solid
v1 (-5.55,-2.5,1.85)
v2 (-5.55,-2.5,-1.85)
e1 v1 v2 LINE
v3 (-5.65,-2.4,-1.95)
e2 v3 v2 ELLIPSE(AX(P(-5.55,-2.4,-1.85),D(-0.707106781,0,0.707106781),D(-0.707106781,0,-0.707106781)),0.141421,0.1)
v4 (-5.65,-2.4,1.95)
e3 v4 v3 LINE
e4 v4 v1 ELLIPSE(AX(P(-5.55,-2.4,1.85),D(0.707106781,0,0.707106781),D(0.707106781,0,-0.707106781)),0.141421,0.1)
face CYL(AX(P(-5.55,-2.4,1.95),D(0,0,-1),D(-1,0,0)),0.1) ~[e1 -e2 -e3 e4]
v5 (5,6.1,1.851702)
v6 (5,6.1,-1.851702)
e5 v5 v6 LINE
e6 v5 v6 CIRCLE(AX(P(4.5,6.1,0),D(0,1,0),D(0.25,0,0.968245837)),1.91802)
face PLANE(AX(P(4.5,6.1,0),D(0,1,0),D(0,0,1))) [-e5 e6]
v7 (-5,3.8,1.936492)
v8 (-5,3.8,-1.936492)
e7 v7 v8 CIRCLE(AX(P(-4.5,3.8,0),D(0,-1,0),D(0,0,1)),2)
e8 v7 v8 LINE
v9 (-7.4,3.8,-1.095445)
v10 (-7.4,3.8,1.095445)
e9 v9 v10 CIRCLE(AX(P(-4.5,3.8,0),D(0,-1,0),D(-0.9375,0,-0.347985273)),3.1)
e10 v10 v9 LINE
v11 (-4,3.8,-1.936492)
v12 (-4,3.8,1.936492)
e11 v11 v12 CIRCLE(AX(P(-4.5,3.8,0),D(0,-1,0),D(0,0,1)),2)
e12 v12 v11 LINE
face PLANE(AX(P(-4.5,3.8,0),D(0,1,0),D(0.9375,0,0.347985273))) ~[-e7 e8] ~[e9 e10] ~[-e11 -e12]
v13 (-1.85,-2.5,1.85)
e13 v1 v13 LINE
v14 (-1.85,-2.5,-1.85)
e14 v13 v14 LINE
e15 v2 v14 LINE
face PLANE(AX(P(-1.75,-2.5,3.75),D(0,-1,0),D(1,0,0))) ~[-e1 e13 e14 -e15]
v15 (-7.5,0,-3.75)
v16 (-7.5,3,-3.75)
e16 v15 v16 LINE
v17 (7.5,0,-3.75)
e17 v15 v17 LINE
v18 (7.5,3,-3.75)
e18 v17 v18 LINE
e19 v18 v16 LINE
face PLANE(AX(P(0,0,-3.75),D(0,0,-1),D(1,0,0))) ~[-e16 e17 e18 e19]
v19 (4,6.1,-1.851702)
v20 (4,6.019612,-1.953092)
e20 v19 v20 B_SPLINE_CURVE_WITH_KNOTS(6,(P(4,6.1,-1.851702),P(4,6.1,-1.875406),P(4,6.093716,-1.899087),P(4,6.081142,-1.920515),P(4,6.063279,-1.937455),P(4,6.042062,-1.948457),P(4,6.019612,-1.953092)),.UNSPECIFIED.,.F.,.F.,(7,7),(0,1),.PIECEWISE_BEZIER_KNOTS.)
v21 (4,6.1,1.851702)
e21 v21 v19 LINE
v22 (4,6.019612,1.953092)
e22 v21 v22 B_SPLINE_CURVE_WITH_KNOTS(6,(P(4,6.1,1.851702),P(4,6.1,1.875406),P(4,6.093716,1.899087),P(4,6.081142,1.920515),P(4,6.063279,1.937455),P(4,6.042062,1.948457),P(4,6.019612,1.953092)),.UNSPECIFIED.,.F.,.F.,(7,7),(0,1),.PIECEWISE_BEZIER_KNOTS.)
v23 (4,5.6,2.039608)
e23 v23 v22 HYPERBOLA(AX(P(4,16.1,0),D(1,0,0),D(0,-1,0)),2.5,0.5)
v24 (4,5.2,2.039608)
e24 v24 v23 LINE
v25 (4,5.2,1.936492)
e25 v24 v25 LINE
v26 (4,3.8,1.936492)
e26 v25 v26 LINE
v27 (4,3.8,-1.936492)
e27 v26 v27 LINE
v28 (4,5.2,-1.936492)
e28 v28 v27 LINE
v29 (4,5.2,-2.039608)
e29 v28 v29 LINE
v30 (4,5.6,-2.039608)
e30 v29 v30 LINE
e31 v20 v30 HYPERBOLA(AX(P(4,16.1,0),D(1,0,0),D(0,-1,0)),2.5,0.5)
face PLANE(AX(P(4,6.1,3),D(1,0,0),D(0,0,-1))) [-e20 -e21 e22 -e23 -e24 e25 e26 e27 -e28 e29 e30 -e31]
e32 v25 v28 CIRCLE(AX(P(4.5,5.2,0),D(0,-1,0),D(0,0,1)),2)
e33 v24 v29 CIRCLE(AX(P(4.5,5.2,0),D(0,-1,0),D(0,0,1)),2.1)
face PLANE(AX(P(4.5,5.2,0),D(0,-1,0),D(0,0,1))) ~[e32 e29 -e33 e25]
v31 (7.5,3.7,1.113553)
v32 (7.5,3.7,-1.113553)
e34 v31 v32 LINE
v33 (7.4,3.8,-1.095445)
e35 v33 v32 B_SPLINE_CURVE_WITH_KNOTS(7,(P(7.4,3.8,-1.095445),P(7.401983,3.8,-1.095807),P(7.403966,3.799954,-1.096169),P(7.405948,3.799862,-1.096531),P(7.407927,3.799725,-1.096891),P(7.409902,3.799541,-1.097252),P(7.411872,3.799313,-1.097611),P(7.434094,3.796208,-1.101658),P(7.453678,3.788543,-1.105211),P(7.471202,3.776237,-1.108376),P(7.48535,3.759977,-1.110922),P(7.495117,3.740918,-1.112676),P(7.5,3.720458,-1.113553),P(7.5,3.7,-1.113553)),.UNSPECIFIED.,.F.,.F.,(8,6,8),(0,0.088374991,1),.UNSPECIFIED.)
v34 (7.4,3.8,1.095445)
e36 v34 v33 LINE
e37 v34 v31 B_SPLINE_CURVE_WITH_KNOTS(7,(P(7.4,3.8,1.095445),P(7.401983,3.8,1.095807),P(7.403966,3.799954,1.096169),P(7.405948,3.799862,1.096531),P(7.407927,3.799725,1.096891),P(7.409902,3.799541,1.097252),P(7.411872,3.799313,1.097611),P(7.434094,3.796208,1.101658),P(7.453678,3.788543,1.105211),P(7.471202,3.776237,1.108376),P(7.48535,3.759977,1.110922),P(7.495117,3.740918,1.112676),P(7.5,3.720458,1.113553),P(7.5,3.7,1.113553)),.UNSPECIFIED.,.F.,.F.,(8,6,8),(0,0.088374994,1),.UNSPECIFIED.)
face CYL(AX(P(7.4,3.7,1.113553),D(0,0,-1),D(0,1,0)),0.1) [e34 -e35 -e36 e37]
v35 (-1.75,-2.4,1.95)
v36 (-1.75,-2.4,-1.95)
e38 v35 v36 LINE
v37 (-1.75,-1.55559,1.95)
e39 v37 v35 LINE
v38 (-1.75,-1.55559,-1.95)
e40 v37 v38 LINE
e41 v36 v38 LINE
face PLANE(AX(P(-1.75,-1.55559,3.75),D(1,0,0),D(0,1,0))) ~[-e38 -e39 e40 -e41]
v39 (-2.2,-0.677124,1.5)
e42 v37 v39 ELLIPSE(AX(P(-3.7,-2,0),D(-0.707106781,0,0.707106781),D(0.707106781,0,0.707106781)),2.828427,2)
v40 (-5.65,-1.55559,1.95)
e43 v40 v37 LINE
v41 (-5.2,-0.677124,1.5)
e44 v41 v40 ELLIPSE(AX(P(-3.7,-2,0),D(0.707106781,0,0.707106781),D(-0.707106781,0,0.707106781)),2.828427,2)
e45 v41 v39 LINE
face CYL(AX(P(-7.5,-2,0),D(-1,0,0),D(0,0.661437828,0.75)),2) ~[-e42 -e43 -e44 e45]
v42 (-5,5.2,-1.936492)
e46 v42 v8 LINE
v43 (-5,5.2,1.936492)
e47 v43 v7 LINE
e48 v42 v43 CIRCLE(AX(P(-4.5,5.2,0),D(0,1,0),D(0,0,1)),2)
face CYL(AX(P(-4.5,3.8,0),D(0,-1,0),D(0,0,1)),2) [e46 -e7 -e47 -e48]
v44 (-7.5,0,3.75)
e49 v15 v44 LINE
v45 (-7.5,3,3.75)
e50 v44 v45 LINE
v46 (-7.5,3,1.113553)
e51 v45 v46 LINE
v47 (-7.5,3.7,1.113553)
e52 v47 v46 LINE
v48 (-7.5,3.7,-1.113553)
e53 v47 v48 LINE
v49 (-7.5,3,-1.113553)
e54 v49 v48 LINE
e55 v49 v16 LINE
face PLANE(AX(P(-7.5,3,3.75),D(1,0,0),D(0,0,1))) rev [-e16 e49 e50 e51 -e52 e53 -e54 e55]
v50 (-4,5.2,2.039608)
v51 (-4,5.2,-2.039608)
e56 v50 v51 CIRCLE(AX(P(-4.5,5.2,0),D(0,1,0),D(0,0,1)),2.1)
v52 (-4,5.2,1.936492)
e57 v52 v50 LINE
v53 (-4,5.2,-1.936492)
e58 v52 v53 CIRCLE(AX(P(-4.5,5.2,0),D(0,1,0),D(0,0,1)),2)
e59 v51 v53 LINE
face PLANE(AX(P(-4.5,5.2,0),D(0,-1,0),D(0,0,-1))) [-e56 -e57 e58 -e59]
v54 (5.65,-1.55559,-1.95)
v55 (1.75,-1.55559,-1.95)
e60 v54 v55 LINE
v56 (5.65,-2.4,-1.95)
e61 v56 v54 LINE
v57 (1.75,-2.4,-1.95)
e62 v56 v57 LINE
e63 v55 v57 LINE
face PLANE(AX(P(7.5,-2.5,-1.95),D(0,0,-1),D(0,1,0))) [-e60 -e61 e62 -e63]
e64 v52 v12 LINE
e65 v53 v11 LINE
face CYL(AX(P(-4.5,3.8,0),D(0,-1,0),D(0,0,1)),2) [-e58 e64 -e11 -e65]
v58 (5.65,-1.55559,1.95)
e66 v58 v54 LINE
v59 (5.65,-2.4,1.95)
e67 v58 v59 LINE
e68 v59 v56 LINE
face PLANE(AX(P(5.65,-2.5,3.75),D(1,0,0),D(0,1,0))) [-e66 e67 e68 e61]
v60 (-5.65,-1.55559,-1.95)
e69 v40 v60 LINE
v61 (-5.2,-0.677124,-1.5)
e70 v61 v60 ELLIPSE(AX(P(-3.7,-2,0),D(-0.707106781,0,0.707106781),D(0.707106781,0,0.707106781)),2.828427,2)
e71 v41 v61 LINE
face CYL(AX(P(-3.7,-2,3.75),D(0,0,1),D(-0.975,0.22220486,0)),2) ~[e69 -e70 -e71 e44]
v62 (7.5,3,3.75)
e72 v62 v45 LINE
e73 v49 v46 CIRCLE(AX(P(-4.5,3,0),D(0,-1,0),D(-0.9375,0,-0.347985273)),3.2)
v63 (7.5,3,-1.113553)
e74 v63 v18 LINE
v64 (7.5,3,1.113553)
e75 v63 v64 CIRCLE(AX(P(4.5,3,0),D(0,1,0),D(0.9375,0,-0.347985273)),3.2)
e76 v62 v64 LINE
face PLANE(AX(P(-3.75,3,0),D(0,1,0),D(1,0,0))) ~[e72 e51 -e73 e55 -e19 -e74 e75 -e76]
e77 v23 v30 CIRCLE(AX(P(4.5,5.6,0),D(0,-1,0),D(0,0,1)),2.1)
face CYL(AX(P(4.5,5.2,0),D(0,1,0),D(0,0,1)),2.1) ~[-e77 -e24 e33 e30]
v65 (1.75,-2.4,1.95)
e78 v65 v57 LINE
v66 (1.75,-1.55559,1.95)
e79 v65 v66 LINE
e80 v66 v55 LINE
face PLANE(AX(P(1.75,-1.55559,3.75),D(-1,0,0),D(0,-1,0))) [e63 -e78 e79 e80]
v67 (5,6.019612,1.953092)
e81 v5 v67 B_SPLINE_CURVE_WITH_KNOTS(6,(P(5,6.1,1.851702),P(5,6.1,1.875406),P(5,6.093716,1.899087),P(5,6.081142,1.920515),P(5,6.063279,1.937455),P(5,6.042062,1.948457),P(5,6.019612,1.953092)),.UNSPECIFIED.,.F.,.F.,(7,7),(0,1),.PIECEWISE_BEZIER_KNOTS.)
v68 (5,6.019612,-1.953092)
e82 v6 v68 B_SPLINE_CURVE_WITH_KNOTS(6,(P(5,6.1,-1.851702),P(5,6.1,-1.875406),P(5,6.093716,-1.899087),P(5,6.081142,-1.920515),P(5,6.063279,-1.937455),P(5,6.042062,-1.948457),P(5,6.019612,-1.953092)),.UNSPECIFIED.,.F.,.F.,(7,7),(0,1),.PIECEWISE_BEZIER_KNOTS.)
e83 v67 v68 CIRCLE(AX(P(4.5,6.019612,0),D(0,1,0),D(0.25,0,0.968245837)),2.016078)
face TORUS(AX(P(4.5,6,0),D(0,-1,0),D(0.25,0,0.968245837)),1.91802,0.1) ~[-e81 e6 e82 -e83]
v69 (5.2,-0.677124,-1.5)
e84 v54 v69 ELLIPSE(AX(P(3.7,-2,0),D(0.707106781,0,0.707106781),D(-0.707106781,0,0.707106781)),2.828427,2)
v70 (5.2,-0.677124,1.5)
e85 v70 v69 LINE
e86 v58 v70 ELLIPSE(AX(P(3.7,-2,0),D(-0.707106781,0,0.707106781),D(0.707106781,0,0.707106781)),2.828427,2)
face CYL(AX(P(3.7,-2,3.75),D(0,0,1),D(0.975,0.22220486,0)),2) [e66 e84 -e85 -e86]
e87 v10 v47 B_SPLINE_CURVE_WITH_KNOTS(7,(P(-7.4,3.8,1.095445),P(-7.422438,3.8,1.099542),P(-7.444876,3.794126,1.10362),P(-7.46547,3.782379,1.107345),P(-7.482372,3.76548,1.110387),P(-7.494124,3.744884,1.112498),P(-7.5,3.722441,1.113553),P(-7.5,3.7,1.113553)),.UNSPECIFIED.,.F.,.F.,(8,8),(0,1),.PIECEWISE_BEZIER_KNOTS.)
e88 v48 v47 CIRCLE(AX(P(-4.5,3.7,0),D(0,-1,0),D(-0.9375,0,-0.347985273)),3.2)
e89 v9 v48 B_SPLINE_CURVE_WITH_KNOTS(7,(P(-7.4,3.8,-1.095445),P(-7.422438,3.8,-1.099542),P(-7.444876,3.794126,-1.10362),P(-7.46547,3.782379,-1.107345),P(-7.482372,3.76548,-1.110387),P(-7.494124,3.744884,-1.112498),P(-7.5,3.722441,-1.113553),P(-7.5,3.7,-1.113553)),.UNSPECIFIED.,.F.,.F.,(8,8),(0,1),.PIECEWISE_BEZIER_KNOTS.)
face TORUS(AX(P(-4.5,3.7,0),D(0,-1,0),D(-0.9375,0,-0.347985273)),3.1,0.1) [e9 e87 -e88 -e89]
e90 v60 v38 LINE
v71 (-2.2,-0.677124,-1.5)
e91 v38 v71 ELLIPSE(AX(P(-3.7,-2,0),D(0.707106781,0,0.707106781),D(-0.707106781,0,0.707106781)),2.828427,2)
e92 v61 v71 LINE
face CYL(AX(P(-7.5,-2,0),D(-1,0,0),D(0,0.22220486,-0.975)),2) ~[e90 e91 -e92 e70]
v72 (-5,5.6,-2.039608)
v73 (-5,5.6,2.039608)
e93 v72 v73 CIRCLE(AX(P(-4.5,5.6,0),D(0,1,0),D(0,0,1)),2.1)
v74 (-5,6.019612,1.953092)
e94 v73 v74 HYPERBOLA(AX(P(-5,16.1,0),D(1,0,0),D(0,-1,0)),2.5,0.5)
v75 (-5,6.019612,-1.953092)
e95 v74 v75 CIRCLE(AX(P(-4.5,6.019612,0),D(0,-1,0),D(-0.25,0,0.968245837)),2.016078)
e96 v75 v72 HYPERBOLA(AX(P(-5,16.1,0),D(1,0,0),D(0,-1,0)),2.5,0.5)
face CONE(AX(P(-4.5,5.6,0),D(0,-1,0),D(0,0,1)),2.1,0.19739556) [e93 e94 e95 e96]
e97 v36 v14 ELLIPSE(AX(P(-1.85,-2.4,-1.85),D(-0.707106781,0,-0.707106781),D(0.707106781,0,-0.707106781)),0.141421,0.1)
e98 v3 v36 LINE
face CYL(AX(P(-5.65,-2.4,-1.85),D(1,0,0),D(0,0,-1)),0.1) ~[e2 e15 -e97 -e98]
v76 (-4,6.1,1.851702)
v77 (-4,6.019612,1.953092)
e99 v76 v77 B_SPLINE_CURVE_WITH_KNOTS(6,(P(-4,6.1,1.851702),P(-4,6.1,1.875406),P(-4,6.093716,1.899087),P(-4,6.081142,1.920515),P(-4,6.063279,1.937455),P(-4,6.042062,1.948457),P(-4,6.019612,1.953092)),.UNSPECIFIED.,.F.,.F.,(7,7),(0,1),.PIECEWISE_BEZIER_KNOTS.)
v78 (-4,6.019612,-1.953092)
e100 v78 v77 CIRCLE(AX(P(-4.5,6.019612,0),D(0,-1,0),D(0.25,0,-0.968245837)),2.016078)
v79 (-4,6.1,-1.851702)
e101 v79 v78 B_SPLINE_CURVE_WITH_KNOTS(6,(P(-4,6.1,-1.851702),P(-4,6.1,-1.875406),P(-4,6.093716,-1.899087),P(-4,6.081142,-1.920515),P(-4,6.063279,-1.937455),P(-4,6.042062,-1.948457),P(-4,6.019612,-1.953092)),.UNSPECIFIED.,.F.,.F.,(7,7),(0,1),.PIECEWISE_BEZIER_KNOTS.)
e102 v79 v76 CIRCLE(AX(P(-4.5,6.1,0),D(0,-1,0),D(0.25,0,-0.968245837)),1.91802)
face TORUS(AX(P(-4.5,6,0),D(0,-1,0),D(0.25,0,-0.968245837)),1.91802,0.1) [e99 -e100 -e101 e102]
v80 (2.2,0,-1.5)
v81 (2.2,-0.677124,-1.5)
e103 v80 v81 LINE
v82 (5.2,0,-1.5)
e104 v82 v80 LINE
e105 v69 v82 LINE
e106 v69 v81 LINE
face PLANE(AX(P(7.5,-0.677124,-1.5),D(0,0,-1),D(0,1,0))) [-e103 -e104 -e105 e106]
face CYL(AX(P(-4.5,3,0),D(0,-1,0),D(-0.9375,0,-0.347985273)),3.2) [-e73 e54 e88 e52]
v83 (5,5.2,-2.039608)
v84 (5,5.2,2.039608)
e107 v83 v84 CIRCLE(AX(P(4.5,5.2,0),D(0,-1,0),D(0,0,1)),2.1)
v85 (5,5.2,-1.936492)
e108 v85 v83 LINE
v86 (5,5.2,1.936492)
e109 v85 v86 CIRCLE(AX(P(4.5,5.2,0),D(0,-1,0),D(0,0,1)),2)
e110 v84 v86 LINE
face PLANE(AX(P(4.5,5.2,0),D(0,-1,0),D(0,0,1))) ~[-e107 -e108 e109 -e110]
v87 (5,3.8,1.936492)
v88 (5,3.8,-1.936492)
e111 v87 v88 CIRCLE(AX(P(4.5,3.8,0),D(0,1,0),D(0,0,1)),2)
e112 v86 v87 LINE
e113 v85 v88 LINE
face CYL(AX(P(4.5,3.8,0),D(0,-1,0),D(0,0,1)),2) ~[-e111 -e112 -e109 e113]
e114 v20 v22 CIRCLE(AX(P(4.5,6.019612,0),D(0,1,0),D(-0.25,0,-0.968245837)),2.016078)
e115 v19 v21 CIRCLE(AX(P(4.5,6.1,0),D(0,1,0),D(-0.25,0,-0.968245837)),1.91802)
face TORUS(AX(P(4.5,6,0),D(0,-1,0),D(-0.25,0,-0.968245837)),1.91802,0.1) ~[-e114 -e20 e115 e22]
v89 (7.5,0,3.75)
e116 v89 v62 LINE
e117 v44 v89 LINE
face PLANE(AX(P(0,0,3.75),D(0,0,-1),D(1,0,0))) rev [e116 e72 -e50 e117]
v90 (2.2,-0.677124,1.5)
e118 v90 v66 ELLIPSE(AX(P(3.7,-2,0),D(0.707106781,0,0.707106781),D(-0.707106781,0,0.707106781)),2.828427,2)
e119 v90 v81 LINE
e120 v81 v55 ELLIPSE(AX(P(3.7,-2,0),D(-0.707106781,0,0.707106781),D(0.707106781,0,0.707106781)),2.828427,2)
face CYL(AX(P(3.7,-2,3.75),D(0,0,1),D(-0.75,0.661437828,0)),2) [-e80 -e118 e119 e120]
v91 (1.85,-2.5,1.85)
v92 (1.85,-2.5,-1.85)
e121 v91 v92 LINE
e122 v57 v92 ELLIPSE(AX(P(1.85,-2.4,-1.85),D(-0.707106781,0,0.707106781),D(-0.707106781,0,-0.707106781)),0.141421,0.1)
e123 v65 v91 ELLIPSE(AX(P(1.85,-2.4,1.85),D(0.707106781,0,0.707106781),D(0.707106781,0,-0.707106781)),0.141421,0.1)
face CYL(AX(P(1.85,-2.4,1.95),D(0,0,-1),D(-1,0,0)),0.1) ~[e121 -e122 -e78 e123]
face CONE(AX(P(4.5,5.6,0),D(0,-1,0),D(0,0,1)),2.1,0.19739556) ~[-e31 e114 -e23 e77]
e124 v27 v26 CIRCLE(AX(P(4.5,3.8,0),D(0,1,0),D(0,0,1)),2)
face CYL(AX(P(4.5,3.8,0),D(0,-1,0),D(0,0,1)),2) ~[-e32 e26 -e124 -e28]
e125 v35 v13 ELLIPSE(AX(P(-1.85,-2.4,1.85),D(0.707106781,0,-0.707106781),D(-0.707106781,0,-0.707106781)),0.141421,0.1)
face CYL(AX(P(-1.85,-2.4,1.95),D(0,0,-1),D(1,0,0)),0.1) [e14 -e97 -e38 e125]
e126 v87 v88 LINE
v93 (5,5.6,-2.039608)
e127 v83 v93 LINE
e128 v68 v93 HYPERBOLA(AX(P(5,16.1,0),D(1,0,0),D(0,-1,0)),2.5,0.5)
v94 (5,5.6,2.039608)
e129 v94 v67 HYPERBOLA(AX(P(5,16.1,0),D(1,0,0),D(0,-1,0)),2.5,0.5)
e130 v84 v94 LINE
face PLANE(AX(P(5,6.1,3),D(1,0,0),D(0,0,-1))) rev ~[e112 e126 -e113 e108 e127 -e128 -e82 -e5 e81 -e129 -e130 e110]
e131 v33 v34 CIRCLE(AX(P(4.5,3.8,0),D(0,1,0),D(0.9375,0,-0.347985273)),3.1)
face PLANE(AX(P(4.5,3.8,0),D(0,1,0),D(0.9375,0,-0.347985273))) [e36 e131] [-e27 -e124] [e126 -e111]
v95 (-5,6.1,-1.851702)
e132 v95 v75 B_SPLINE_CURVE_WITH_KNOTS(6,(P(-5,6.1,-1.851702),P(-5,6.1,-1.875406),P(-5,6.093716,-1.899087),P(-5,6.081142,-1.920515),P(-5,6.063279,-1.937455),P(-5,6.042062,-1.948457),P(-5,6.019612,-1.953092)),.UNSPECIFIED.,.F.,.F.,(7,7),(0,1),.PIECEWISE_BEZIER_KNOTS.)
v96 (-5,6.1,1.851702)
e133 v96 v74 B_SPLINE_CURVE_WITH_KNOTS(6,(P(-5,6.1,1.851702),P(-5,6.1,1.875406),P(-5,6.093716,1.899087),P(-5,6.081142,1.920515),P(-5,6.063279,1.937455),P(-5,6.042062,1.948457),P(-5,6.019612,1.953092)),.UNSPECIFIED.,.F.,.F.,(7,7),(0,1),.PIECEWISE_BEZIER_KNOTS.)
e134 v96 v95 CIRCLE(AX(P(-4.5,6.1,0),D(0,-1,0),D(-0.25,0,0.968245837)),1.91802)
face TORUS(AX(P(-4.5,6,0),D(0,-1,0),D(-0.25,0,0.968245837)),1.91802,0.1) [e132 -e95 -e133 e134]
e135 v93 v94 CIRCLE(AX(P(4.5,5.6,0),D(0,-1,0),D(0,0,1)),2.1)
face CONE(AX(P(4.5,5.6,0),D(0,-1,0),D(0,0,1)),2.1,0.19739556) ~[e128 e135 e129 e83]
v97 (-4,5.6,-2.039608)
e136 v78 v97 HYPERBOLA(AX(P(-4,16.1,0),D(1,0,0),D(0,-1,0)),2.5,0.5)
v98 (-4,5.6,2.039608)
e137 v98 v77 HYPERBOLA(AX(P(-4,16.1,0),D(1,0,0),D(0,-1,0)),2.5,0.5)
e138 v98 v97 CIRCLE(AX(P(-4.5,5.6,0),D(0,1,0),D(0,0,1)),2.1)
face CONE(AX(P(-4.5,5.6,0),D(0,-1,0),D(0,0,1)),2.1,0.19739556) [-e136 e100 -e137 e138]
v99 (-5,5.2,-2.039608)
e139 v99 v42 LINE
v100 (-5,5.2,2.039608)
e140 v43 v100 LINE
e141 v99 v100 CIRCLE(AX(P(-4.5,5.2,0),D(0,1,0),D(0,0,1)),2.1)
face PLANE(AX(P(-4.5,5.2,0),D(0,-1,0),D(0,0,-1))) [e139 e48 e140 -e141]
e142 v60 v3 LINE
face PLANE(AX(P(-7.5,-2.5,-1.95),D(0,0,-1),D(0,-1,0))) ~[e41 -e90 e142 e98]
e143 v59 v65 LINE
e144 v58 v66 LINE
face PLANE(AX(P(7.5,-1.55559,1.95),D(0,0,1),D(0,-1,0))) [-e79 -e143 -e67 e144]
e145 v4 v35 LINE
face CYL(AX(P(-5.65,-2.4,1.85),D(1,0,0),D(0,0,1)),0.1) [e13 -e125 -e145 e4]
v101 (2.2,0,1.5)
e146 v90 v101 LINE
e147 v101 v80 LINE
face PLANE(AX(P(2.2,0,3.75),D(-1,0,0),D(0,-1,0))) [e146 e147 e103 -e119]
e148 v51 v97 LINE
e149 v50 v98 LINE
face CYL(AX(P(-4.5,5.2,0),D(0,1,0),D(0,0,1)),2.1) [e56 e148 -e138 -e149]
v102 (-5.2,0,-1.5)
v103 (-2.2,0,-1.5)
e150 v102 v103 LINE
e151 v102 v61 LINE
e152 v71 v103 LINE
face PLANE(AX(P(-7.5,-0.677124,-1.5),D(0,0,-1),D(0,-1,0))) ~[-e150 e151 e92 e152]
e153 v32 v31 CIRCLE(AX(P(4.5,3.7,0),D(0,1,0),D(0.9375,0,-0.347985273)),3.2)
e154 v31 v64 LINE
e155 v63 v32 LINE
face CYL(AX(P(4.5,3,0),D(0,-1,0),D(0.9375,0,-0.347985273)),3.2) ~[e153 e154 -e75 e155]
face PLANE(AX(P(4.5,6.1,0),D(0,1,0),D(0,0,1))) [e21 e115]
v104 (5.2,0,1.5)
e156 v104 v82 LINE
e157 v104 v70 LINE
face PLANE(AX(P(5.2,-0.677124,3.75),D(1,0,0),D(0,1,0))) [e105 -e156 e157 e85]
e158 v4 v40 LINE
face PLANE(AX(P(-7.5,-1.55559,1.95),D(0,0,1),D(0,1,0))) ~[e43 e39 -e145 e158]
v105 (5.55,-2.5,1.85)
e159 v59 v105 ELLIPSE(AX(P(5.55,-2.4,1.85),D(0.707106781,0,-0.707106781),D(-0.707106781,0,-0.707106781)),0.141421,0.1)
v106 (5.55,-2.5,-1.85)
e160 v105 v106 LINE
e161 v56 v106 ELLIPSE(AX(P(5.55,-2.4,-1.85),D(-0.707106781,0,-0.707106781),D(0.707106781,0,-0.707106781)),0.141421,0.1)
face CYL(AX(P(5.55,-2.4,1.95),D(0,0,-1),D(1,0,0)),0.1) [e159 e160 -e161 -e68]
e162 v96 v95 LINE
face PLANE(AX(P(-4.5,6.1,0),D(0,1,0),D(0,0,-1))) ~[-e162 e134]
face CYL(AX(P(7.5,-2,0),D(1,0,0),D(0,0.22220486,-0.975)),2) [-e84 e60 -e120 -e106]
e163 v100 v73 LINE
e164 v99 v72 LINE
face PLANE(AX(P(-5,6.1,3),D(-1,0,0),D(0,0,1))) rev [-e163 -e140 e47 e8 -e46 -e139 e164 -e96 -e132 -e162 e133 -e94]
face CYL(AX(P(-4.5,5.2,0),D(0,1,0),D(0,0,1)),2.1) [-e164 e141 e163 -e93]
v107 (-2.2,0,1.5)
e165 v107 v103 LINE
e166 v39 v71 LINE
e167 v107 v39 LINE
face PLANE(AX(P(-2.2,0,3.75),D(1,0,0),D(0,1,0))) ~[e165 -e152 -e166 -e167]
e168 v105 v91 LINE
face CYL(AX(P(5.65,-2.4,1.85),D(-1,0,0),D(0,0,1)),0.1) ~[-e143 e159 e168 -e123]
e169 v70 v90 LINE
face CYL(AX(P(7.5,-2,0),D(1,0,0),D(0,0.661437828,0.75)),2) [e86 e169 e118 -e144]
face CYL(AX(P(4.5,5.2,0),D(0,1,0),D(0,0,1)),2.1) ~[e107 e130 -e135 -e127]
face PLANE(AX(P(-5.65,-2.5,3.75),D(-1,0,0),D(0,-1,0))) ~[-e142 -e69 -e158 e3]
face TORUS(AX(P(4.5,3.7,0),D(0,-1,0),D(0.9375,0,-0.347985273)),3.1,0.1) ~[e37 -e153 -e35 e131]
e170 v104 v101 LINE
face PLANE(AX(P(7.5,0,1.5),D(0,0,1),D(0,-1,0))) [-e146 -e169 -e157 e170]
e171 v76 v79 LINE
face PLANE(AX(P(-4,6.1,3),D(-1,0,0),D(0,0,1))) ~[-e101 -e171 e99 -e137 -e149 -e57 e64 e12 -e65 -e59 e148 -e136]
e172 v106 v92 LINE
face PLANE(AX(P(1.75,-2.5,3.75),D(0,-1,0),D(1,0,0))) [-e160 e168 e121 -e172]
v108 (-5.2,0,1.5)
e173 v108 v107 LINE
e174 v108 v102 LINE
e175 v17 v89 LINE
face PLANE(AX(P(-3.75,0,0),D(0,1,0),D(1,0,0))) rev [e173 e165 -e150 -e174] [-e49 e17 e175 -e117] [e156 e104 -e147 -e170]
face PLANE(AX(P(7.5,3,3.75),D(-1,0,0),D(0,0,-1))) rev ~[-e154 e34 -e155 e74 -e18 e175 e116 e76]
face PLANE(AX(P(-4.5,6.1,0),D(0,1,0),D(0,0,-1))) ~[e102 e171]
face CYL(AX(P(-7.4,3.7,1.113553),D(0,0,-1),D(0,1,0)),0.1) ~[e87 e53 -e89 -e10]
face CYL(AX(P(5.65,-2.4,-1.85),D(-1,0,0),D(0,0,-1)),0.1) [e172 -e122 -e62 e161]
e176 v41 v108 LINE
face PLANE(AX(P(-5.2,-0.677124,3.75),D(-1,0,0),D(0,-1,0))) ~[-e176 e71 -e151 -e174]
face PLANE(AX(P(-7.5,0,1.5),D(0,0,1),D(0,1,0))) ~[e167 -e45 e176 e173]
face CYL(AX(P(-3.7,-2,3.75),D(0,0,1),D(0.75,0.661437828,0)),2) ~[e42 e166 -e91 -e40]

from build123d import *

# Parameters (mm, degrees)
SKETCH_1_W             = 7.5
SKETCH_1_H             = 7.5
EXTRUDE_1_DEPTH        = 3
EXTRUDE_2_DEPTH        = 7.5
CUT_EXTRUDE_1_DEPTH    = 7.5
SKETCH_5_R             = 3.2
EXTRUDE_3_DEPTH        = 0.8
SKETCH_6_R             = 2
EXTRUDE_4_DEPTH        = 2.3
SKETCH_8_W             = 1
SKETCH_8_H             = 6
CUT_EXTRUDE_2_DEPTH    = 2.3
SKETCH_9_W             = 1.018557721
SKETCH_9_H             = 7.5
CUT_EXTRUDE_5_DEPTH    = 0.8
FILLET_2_R             = 0.1
FILLET_2_OF_MIRROR_1_R = 0.1


with BuildPart() as part:
    # 草图1 → 凸台-拉伸1 (new body)
    with BuildSketch(Plane(origin=(0, 0, 0), x_dir=(1, 0, 0), z_dir=(0, 1, 0))):
        with Locations((3.75, 0)):
            Rectangle(SKETCH_1_W, SKETCH_1_H)
    extrude_1 = extrude(amount=EXTRUDE_1_DEPTH)

    # 草图3 → 凸台-拉伸2 (add)
    with BuildSketch(Plane.XY.offset(3.75)):
        with BuildLine():
            Line((5.2, 0), (2.2, 0))
            Line((2.2, 0), (2.2, -0.677124344))
            ThreePointArc((2.2, -0.677124344), (1.919957697, -1.088161527), (1.75, -1.555590279))
            Line((1.75, -1.555590279), (1.75, -2.5))
            Line((1.75, -2.5), (5.65, -2.5))
            Line((5.65, -2.5), (5.65, -1.555590279))
            ThreePointArc((5.65, -1.555590279), (5.480042303, -1.088161527), (5.2, -0.677124344))
            Line((5.2, -0.677124344), (5.2, 0))
        make_face()
    extrude_2 = extrude(amount=-EXTRUDE_2_DEPTH)

    # 草图4 → 切除-拉伸1 (cut)
    with BuildSketch(Plane(origin=(7.5, 0, 0), x_dir=(0, 0, -1), z_dir=(1, 0, 0))):
        with BuildLine():
            Line((1.5, 0), (3.75, 0))
            Line((3.75, 0), (3.75, -2.5))
            Line((3.75, -2.5), (1.95, -2.5))
            Line((1.95, -2.5), (1.95, -1.555590279))
            ThreePointArc((1.95, -1.555590279), (1.780042303, -1.088161527), (1.5, -0.677124344))
            Line((1.5, -0.677124344), (1.5, 0))
        make_face()
        with BuildLine():
            Line((-1.5, 0), (-1.5, -0.677124344))
            ThreePointArc((-1.5, -0.677124344), (-1.780042303, -1.088161527), (-1.95, -1.555590279))
            Line((-1.95, -1.555590279), (-1.95, -2.5))
            Line((-1.95, -2.5), (-3.75, -2.5))
            Line((-3.75, -2.5), (-3.75, 0))
            Line((-3.75, 0), (-1.5, 0))
        make_face()
    cut_extrude_1 = extrude(amount=-CUT_EXTRUDE_1_DEPTH, mode=Mode.SUBTRACT)

    # 草图5 → 凸台-拉伸3 (add)
    with BuildSketch(Plane(origin=(0, 3, 0), x_dir=(1, 0, 0), z_dir=(0, 1, 0))):
        with Locations(Location((4.5, 0, 0), (0, 0, 20.364134806))):
            Circle(SKETCH_5_R)
    extrude_3 = extrude(amount=EXTRUDE_3_DEPTH)

    # 草图6 → 凸台-拉伸4 (add)
    with BuildSketch(Plane(origin=(0, 3.8, 0), x_dir=(1, 0, 0), z_dir=(0, 1, 0))):
        with Locations(Location((4.5, 0, 0), (0, 0, 270))):
            Circle(SKETCH_6_R)
    extrude_4 = extrude(amount=EXTRUDE_4_DEPTH)

    # 草图7 → 旋转1 (revolve)
    with BuildSketch(Plane.XY, mode=Mode.PRIVATE) as revolve_1_sk:
        Polygon((2.5, 6.1), (2.5, 5.2), (2.4, 5.2), (2.4, 5.6), align=None)
    revolve_1 = revolve(revolve_1_sk.sketch.rotate(Axis((4.5, 6.1, 0), (0, -1, 0)), 270), axis=Axis((4.5, 6.1, 0), (0, -1, 0)))

    # 草图8 → 切除-拉伸2 (cut)
    with BuildSketch(Plane(origin=(0, 6.1, 0), x_dir=(1, 0, 0), z_dir=(0, 1, 0))):
        with Locations((4.5, 0)):
            Rectangle(SKETCH_8_W, SKETCH_8_H)
    cut_extrude_2 = extrude(amount=-CUT_EXTRUDE_2_DEPTH, mode=Mode.SUBTRACT)

    # 草图9 → 切除-拉伸5 (cut)
    with BuildSketch(Plane(origin=(0, 3, 0), x_dir=(1, 0, 0), z_dir=(0, 1, 0))):
        with Locations((8.009278861, 0)):
            Rectangle(SKETCH_9_W, SKETCH_9_H)
    cut_extrude_5 = extrude(amount=CUT_EXTRUDE_5_DEPTH, mode=Mode.SUBTRACT)

    # 圆角2
    fillet_2_edges = [part.edges().sort_by_distance(p)[0] for p in [
        (5.65, -2.5, 0),
        (3.7, -2.5, -1.95),
        (1.75, -2.5, 0),
        (3.7, -2.5, 1.95),
        (7.5, 3.8, 0),
        (1.3, 3.8, 0),
        (2.5, 6.1, 0),
        (6.5, 6.1, 0),
    ]]
    fillet(fillet_2_edges, radius=FILLET_2_R)

    # 镜向1: 凸台-拉伸1, 凸台-拉伸2, 切除-拉伸1, 凸台-拉伸3, 凸台-拉伸4, 旋转1, 切除-拉伸2, 切除-拉伸5 across plane
    add(extrude_1.mirror(Plane(origin=(0, 0, 0), x_dir=(0, 0, 1), z_dir=(1, 0, 0))))
    add(extrude_2.mirror(Plane(origin=(0, 0, 0), x_dir=(0, 0, 1), z_dir=(1, 0, 0))))
    add(cut_extrude_1.mirror(Plane(origin=(0, 0, 0), x_dir=(0, 0, 1), z_dir=(1, 0, 0))), mode=Mode.SUBTRACT)
    add(extrude_3.mirror(Plane(origin=(0, 0, 0), x_dir=(0, 0, 1), z_dir=(1, 0, 0))))
    add(extrude_4.mirror(Plane(origin=(0, 0, 0), x_dir=(0, 0, 1), z_dir=(1, 0, 0))))
    add(revolve_1.mirror(Plane(origin=(0, 0, 0), x_dir=(0, 0, 1), z_dir=(1, 0, 0))))
    add(cut_extrude_2.mirror(Plane(origin=(0, 0, 0), x_dir=(0, 0, 1), z_dir=(1, 0, 0))), mode=Mode.SUBTRACT)
    add(cut_extrude_5.mirror(Plane(origin=(0, 0, 0), x_dir=(0, 0, 1), z_dir=(1, 0, 0))), mode=Mode.SUBTRACT)

    # 圆角2 of 镜向1
    fillet_2_of_mirror_1_edges = [part.edges().sort_by_distance(p)[0] for p in [
        (-5.65, -2.5, 0),
        (-3.7, -2.5, -1.95),
        (-1.75, -2.5, 0),
        (-3.7, -2.5, 1.95),
        (-7.5, 3.8, 0),
        (-1.3, 3.8, 0),
        (-2.5, 6.1, 0),
        (-6.5, 6.1, 0),
    ]]
    fillet(fillet_2_of_mirror_1_edges, radius=FILLET_2_OF_MIRROR_1_R)


solid = part.part
